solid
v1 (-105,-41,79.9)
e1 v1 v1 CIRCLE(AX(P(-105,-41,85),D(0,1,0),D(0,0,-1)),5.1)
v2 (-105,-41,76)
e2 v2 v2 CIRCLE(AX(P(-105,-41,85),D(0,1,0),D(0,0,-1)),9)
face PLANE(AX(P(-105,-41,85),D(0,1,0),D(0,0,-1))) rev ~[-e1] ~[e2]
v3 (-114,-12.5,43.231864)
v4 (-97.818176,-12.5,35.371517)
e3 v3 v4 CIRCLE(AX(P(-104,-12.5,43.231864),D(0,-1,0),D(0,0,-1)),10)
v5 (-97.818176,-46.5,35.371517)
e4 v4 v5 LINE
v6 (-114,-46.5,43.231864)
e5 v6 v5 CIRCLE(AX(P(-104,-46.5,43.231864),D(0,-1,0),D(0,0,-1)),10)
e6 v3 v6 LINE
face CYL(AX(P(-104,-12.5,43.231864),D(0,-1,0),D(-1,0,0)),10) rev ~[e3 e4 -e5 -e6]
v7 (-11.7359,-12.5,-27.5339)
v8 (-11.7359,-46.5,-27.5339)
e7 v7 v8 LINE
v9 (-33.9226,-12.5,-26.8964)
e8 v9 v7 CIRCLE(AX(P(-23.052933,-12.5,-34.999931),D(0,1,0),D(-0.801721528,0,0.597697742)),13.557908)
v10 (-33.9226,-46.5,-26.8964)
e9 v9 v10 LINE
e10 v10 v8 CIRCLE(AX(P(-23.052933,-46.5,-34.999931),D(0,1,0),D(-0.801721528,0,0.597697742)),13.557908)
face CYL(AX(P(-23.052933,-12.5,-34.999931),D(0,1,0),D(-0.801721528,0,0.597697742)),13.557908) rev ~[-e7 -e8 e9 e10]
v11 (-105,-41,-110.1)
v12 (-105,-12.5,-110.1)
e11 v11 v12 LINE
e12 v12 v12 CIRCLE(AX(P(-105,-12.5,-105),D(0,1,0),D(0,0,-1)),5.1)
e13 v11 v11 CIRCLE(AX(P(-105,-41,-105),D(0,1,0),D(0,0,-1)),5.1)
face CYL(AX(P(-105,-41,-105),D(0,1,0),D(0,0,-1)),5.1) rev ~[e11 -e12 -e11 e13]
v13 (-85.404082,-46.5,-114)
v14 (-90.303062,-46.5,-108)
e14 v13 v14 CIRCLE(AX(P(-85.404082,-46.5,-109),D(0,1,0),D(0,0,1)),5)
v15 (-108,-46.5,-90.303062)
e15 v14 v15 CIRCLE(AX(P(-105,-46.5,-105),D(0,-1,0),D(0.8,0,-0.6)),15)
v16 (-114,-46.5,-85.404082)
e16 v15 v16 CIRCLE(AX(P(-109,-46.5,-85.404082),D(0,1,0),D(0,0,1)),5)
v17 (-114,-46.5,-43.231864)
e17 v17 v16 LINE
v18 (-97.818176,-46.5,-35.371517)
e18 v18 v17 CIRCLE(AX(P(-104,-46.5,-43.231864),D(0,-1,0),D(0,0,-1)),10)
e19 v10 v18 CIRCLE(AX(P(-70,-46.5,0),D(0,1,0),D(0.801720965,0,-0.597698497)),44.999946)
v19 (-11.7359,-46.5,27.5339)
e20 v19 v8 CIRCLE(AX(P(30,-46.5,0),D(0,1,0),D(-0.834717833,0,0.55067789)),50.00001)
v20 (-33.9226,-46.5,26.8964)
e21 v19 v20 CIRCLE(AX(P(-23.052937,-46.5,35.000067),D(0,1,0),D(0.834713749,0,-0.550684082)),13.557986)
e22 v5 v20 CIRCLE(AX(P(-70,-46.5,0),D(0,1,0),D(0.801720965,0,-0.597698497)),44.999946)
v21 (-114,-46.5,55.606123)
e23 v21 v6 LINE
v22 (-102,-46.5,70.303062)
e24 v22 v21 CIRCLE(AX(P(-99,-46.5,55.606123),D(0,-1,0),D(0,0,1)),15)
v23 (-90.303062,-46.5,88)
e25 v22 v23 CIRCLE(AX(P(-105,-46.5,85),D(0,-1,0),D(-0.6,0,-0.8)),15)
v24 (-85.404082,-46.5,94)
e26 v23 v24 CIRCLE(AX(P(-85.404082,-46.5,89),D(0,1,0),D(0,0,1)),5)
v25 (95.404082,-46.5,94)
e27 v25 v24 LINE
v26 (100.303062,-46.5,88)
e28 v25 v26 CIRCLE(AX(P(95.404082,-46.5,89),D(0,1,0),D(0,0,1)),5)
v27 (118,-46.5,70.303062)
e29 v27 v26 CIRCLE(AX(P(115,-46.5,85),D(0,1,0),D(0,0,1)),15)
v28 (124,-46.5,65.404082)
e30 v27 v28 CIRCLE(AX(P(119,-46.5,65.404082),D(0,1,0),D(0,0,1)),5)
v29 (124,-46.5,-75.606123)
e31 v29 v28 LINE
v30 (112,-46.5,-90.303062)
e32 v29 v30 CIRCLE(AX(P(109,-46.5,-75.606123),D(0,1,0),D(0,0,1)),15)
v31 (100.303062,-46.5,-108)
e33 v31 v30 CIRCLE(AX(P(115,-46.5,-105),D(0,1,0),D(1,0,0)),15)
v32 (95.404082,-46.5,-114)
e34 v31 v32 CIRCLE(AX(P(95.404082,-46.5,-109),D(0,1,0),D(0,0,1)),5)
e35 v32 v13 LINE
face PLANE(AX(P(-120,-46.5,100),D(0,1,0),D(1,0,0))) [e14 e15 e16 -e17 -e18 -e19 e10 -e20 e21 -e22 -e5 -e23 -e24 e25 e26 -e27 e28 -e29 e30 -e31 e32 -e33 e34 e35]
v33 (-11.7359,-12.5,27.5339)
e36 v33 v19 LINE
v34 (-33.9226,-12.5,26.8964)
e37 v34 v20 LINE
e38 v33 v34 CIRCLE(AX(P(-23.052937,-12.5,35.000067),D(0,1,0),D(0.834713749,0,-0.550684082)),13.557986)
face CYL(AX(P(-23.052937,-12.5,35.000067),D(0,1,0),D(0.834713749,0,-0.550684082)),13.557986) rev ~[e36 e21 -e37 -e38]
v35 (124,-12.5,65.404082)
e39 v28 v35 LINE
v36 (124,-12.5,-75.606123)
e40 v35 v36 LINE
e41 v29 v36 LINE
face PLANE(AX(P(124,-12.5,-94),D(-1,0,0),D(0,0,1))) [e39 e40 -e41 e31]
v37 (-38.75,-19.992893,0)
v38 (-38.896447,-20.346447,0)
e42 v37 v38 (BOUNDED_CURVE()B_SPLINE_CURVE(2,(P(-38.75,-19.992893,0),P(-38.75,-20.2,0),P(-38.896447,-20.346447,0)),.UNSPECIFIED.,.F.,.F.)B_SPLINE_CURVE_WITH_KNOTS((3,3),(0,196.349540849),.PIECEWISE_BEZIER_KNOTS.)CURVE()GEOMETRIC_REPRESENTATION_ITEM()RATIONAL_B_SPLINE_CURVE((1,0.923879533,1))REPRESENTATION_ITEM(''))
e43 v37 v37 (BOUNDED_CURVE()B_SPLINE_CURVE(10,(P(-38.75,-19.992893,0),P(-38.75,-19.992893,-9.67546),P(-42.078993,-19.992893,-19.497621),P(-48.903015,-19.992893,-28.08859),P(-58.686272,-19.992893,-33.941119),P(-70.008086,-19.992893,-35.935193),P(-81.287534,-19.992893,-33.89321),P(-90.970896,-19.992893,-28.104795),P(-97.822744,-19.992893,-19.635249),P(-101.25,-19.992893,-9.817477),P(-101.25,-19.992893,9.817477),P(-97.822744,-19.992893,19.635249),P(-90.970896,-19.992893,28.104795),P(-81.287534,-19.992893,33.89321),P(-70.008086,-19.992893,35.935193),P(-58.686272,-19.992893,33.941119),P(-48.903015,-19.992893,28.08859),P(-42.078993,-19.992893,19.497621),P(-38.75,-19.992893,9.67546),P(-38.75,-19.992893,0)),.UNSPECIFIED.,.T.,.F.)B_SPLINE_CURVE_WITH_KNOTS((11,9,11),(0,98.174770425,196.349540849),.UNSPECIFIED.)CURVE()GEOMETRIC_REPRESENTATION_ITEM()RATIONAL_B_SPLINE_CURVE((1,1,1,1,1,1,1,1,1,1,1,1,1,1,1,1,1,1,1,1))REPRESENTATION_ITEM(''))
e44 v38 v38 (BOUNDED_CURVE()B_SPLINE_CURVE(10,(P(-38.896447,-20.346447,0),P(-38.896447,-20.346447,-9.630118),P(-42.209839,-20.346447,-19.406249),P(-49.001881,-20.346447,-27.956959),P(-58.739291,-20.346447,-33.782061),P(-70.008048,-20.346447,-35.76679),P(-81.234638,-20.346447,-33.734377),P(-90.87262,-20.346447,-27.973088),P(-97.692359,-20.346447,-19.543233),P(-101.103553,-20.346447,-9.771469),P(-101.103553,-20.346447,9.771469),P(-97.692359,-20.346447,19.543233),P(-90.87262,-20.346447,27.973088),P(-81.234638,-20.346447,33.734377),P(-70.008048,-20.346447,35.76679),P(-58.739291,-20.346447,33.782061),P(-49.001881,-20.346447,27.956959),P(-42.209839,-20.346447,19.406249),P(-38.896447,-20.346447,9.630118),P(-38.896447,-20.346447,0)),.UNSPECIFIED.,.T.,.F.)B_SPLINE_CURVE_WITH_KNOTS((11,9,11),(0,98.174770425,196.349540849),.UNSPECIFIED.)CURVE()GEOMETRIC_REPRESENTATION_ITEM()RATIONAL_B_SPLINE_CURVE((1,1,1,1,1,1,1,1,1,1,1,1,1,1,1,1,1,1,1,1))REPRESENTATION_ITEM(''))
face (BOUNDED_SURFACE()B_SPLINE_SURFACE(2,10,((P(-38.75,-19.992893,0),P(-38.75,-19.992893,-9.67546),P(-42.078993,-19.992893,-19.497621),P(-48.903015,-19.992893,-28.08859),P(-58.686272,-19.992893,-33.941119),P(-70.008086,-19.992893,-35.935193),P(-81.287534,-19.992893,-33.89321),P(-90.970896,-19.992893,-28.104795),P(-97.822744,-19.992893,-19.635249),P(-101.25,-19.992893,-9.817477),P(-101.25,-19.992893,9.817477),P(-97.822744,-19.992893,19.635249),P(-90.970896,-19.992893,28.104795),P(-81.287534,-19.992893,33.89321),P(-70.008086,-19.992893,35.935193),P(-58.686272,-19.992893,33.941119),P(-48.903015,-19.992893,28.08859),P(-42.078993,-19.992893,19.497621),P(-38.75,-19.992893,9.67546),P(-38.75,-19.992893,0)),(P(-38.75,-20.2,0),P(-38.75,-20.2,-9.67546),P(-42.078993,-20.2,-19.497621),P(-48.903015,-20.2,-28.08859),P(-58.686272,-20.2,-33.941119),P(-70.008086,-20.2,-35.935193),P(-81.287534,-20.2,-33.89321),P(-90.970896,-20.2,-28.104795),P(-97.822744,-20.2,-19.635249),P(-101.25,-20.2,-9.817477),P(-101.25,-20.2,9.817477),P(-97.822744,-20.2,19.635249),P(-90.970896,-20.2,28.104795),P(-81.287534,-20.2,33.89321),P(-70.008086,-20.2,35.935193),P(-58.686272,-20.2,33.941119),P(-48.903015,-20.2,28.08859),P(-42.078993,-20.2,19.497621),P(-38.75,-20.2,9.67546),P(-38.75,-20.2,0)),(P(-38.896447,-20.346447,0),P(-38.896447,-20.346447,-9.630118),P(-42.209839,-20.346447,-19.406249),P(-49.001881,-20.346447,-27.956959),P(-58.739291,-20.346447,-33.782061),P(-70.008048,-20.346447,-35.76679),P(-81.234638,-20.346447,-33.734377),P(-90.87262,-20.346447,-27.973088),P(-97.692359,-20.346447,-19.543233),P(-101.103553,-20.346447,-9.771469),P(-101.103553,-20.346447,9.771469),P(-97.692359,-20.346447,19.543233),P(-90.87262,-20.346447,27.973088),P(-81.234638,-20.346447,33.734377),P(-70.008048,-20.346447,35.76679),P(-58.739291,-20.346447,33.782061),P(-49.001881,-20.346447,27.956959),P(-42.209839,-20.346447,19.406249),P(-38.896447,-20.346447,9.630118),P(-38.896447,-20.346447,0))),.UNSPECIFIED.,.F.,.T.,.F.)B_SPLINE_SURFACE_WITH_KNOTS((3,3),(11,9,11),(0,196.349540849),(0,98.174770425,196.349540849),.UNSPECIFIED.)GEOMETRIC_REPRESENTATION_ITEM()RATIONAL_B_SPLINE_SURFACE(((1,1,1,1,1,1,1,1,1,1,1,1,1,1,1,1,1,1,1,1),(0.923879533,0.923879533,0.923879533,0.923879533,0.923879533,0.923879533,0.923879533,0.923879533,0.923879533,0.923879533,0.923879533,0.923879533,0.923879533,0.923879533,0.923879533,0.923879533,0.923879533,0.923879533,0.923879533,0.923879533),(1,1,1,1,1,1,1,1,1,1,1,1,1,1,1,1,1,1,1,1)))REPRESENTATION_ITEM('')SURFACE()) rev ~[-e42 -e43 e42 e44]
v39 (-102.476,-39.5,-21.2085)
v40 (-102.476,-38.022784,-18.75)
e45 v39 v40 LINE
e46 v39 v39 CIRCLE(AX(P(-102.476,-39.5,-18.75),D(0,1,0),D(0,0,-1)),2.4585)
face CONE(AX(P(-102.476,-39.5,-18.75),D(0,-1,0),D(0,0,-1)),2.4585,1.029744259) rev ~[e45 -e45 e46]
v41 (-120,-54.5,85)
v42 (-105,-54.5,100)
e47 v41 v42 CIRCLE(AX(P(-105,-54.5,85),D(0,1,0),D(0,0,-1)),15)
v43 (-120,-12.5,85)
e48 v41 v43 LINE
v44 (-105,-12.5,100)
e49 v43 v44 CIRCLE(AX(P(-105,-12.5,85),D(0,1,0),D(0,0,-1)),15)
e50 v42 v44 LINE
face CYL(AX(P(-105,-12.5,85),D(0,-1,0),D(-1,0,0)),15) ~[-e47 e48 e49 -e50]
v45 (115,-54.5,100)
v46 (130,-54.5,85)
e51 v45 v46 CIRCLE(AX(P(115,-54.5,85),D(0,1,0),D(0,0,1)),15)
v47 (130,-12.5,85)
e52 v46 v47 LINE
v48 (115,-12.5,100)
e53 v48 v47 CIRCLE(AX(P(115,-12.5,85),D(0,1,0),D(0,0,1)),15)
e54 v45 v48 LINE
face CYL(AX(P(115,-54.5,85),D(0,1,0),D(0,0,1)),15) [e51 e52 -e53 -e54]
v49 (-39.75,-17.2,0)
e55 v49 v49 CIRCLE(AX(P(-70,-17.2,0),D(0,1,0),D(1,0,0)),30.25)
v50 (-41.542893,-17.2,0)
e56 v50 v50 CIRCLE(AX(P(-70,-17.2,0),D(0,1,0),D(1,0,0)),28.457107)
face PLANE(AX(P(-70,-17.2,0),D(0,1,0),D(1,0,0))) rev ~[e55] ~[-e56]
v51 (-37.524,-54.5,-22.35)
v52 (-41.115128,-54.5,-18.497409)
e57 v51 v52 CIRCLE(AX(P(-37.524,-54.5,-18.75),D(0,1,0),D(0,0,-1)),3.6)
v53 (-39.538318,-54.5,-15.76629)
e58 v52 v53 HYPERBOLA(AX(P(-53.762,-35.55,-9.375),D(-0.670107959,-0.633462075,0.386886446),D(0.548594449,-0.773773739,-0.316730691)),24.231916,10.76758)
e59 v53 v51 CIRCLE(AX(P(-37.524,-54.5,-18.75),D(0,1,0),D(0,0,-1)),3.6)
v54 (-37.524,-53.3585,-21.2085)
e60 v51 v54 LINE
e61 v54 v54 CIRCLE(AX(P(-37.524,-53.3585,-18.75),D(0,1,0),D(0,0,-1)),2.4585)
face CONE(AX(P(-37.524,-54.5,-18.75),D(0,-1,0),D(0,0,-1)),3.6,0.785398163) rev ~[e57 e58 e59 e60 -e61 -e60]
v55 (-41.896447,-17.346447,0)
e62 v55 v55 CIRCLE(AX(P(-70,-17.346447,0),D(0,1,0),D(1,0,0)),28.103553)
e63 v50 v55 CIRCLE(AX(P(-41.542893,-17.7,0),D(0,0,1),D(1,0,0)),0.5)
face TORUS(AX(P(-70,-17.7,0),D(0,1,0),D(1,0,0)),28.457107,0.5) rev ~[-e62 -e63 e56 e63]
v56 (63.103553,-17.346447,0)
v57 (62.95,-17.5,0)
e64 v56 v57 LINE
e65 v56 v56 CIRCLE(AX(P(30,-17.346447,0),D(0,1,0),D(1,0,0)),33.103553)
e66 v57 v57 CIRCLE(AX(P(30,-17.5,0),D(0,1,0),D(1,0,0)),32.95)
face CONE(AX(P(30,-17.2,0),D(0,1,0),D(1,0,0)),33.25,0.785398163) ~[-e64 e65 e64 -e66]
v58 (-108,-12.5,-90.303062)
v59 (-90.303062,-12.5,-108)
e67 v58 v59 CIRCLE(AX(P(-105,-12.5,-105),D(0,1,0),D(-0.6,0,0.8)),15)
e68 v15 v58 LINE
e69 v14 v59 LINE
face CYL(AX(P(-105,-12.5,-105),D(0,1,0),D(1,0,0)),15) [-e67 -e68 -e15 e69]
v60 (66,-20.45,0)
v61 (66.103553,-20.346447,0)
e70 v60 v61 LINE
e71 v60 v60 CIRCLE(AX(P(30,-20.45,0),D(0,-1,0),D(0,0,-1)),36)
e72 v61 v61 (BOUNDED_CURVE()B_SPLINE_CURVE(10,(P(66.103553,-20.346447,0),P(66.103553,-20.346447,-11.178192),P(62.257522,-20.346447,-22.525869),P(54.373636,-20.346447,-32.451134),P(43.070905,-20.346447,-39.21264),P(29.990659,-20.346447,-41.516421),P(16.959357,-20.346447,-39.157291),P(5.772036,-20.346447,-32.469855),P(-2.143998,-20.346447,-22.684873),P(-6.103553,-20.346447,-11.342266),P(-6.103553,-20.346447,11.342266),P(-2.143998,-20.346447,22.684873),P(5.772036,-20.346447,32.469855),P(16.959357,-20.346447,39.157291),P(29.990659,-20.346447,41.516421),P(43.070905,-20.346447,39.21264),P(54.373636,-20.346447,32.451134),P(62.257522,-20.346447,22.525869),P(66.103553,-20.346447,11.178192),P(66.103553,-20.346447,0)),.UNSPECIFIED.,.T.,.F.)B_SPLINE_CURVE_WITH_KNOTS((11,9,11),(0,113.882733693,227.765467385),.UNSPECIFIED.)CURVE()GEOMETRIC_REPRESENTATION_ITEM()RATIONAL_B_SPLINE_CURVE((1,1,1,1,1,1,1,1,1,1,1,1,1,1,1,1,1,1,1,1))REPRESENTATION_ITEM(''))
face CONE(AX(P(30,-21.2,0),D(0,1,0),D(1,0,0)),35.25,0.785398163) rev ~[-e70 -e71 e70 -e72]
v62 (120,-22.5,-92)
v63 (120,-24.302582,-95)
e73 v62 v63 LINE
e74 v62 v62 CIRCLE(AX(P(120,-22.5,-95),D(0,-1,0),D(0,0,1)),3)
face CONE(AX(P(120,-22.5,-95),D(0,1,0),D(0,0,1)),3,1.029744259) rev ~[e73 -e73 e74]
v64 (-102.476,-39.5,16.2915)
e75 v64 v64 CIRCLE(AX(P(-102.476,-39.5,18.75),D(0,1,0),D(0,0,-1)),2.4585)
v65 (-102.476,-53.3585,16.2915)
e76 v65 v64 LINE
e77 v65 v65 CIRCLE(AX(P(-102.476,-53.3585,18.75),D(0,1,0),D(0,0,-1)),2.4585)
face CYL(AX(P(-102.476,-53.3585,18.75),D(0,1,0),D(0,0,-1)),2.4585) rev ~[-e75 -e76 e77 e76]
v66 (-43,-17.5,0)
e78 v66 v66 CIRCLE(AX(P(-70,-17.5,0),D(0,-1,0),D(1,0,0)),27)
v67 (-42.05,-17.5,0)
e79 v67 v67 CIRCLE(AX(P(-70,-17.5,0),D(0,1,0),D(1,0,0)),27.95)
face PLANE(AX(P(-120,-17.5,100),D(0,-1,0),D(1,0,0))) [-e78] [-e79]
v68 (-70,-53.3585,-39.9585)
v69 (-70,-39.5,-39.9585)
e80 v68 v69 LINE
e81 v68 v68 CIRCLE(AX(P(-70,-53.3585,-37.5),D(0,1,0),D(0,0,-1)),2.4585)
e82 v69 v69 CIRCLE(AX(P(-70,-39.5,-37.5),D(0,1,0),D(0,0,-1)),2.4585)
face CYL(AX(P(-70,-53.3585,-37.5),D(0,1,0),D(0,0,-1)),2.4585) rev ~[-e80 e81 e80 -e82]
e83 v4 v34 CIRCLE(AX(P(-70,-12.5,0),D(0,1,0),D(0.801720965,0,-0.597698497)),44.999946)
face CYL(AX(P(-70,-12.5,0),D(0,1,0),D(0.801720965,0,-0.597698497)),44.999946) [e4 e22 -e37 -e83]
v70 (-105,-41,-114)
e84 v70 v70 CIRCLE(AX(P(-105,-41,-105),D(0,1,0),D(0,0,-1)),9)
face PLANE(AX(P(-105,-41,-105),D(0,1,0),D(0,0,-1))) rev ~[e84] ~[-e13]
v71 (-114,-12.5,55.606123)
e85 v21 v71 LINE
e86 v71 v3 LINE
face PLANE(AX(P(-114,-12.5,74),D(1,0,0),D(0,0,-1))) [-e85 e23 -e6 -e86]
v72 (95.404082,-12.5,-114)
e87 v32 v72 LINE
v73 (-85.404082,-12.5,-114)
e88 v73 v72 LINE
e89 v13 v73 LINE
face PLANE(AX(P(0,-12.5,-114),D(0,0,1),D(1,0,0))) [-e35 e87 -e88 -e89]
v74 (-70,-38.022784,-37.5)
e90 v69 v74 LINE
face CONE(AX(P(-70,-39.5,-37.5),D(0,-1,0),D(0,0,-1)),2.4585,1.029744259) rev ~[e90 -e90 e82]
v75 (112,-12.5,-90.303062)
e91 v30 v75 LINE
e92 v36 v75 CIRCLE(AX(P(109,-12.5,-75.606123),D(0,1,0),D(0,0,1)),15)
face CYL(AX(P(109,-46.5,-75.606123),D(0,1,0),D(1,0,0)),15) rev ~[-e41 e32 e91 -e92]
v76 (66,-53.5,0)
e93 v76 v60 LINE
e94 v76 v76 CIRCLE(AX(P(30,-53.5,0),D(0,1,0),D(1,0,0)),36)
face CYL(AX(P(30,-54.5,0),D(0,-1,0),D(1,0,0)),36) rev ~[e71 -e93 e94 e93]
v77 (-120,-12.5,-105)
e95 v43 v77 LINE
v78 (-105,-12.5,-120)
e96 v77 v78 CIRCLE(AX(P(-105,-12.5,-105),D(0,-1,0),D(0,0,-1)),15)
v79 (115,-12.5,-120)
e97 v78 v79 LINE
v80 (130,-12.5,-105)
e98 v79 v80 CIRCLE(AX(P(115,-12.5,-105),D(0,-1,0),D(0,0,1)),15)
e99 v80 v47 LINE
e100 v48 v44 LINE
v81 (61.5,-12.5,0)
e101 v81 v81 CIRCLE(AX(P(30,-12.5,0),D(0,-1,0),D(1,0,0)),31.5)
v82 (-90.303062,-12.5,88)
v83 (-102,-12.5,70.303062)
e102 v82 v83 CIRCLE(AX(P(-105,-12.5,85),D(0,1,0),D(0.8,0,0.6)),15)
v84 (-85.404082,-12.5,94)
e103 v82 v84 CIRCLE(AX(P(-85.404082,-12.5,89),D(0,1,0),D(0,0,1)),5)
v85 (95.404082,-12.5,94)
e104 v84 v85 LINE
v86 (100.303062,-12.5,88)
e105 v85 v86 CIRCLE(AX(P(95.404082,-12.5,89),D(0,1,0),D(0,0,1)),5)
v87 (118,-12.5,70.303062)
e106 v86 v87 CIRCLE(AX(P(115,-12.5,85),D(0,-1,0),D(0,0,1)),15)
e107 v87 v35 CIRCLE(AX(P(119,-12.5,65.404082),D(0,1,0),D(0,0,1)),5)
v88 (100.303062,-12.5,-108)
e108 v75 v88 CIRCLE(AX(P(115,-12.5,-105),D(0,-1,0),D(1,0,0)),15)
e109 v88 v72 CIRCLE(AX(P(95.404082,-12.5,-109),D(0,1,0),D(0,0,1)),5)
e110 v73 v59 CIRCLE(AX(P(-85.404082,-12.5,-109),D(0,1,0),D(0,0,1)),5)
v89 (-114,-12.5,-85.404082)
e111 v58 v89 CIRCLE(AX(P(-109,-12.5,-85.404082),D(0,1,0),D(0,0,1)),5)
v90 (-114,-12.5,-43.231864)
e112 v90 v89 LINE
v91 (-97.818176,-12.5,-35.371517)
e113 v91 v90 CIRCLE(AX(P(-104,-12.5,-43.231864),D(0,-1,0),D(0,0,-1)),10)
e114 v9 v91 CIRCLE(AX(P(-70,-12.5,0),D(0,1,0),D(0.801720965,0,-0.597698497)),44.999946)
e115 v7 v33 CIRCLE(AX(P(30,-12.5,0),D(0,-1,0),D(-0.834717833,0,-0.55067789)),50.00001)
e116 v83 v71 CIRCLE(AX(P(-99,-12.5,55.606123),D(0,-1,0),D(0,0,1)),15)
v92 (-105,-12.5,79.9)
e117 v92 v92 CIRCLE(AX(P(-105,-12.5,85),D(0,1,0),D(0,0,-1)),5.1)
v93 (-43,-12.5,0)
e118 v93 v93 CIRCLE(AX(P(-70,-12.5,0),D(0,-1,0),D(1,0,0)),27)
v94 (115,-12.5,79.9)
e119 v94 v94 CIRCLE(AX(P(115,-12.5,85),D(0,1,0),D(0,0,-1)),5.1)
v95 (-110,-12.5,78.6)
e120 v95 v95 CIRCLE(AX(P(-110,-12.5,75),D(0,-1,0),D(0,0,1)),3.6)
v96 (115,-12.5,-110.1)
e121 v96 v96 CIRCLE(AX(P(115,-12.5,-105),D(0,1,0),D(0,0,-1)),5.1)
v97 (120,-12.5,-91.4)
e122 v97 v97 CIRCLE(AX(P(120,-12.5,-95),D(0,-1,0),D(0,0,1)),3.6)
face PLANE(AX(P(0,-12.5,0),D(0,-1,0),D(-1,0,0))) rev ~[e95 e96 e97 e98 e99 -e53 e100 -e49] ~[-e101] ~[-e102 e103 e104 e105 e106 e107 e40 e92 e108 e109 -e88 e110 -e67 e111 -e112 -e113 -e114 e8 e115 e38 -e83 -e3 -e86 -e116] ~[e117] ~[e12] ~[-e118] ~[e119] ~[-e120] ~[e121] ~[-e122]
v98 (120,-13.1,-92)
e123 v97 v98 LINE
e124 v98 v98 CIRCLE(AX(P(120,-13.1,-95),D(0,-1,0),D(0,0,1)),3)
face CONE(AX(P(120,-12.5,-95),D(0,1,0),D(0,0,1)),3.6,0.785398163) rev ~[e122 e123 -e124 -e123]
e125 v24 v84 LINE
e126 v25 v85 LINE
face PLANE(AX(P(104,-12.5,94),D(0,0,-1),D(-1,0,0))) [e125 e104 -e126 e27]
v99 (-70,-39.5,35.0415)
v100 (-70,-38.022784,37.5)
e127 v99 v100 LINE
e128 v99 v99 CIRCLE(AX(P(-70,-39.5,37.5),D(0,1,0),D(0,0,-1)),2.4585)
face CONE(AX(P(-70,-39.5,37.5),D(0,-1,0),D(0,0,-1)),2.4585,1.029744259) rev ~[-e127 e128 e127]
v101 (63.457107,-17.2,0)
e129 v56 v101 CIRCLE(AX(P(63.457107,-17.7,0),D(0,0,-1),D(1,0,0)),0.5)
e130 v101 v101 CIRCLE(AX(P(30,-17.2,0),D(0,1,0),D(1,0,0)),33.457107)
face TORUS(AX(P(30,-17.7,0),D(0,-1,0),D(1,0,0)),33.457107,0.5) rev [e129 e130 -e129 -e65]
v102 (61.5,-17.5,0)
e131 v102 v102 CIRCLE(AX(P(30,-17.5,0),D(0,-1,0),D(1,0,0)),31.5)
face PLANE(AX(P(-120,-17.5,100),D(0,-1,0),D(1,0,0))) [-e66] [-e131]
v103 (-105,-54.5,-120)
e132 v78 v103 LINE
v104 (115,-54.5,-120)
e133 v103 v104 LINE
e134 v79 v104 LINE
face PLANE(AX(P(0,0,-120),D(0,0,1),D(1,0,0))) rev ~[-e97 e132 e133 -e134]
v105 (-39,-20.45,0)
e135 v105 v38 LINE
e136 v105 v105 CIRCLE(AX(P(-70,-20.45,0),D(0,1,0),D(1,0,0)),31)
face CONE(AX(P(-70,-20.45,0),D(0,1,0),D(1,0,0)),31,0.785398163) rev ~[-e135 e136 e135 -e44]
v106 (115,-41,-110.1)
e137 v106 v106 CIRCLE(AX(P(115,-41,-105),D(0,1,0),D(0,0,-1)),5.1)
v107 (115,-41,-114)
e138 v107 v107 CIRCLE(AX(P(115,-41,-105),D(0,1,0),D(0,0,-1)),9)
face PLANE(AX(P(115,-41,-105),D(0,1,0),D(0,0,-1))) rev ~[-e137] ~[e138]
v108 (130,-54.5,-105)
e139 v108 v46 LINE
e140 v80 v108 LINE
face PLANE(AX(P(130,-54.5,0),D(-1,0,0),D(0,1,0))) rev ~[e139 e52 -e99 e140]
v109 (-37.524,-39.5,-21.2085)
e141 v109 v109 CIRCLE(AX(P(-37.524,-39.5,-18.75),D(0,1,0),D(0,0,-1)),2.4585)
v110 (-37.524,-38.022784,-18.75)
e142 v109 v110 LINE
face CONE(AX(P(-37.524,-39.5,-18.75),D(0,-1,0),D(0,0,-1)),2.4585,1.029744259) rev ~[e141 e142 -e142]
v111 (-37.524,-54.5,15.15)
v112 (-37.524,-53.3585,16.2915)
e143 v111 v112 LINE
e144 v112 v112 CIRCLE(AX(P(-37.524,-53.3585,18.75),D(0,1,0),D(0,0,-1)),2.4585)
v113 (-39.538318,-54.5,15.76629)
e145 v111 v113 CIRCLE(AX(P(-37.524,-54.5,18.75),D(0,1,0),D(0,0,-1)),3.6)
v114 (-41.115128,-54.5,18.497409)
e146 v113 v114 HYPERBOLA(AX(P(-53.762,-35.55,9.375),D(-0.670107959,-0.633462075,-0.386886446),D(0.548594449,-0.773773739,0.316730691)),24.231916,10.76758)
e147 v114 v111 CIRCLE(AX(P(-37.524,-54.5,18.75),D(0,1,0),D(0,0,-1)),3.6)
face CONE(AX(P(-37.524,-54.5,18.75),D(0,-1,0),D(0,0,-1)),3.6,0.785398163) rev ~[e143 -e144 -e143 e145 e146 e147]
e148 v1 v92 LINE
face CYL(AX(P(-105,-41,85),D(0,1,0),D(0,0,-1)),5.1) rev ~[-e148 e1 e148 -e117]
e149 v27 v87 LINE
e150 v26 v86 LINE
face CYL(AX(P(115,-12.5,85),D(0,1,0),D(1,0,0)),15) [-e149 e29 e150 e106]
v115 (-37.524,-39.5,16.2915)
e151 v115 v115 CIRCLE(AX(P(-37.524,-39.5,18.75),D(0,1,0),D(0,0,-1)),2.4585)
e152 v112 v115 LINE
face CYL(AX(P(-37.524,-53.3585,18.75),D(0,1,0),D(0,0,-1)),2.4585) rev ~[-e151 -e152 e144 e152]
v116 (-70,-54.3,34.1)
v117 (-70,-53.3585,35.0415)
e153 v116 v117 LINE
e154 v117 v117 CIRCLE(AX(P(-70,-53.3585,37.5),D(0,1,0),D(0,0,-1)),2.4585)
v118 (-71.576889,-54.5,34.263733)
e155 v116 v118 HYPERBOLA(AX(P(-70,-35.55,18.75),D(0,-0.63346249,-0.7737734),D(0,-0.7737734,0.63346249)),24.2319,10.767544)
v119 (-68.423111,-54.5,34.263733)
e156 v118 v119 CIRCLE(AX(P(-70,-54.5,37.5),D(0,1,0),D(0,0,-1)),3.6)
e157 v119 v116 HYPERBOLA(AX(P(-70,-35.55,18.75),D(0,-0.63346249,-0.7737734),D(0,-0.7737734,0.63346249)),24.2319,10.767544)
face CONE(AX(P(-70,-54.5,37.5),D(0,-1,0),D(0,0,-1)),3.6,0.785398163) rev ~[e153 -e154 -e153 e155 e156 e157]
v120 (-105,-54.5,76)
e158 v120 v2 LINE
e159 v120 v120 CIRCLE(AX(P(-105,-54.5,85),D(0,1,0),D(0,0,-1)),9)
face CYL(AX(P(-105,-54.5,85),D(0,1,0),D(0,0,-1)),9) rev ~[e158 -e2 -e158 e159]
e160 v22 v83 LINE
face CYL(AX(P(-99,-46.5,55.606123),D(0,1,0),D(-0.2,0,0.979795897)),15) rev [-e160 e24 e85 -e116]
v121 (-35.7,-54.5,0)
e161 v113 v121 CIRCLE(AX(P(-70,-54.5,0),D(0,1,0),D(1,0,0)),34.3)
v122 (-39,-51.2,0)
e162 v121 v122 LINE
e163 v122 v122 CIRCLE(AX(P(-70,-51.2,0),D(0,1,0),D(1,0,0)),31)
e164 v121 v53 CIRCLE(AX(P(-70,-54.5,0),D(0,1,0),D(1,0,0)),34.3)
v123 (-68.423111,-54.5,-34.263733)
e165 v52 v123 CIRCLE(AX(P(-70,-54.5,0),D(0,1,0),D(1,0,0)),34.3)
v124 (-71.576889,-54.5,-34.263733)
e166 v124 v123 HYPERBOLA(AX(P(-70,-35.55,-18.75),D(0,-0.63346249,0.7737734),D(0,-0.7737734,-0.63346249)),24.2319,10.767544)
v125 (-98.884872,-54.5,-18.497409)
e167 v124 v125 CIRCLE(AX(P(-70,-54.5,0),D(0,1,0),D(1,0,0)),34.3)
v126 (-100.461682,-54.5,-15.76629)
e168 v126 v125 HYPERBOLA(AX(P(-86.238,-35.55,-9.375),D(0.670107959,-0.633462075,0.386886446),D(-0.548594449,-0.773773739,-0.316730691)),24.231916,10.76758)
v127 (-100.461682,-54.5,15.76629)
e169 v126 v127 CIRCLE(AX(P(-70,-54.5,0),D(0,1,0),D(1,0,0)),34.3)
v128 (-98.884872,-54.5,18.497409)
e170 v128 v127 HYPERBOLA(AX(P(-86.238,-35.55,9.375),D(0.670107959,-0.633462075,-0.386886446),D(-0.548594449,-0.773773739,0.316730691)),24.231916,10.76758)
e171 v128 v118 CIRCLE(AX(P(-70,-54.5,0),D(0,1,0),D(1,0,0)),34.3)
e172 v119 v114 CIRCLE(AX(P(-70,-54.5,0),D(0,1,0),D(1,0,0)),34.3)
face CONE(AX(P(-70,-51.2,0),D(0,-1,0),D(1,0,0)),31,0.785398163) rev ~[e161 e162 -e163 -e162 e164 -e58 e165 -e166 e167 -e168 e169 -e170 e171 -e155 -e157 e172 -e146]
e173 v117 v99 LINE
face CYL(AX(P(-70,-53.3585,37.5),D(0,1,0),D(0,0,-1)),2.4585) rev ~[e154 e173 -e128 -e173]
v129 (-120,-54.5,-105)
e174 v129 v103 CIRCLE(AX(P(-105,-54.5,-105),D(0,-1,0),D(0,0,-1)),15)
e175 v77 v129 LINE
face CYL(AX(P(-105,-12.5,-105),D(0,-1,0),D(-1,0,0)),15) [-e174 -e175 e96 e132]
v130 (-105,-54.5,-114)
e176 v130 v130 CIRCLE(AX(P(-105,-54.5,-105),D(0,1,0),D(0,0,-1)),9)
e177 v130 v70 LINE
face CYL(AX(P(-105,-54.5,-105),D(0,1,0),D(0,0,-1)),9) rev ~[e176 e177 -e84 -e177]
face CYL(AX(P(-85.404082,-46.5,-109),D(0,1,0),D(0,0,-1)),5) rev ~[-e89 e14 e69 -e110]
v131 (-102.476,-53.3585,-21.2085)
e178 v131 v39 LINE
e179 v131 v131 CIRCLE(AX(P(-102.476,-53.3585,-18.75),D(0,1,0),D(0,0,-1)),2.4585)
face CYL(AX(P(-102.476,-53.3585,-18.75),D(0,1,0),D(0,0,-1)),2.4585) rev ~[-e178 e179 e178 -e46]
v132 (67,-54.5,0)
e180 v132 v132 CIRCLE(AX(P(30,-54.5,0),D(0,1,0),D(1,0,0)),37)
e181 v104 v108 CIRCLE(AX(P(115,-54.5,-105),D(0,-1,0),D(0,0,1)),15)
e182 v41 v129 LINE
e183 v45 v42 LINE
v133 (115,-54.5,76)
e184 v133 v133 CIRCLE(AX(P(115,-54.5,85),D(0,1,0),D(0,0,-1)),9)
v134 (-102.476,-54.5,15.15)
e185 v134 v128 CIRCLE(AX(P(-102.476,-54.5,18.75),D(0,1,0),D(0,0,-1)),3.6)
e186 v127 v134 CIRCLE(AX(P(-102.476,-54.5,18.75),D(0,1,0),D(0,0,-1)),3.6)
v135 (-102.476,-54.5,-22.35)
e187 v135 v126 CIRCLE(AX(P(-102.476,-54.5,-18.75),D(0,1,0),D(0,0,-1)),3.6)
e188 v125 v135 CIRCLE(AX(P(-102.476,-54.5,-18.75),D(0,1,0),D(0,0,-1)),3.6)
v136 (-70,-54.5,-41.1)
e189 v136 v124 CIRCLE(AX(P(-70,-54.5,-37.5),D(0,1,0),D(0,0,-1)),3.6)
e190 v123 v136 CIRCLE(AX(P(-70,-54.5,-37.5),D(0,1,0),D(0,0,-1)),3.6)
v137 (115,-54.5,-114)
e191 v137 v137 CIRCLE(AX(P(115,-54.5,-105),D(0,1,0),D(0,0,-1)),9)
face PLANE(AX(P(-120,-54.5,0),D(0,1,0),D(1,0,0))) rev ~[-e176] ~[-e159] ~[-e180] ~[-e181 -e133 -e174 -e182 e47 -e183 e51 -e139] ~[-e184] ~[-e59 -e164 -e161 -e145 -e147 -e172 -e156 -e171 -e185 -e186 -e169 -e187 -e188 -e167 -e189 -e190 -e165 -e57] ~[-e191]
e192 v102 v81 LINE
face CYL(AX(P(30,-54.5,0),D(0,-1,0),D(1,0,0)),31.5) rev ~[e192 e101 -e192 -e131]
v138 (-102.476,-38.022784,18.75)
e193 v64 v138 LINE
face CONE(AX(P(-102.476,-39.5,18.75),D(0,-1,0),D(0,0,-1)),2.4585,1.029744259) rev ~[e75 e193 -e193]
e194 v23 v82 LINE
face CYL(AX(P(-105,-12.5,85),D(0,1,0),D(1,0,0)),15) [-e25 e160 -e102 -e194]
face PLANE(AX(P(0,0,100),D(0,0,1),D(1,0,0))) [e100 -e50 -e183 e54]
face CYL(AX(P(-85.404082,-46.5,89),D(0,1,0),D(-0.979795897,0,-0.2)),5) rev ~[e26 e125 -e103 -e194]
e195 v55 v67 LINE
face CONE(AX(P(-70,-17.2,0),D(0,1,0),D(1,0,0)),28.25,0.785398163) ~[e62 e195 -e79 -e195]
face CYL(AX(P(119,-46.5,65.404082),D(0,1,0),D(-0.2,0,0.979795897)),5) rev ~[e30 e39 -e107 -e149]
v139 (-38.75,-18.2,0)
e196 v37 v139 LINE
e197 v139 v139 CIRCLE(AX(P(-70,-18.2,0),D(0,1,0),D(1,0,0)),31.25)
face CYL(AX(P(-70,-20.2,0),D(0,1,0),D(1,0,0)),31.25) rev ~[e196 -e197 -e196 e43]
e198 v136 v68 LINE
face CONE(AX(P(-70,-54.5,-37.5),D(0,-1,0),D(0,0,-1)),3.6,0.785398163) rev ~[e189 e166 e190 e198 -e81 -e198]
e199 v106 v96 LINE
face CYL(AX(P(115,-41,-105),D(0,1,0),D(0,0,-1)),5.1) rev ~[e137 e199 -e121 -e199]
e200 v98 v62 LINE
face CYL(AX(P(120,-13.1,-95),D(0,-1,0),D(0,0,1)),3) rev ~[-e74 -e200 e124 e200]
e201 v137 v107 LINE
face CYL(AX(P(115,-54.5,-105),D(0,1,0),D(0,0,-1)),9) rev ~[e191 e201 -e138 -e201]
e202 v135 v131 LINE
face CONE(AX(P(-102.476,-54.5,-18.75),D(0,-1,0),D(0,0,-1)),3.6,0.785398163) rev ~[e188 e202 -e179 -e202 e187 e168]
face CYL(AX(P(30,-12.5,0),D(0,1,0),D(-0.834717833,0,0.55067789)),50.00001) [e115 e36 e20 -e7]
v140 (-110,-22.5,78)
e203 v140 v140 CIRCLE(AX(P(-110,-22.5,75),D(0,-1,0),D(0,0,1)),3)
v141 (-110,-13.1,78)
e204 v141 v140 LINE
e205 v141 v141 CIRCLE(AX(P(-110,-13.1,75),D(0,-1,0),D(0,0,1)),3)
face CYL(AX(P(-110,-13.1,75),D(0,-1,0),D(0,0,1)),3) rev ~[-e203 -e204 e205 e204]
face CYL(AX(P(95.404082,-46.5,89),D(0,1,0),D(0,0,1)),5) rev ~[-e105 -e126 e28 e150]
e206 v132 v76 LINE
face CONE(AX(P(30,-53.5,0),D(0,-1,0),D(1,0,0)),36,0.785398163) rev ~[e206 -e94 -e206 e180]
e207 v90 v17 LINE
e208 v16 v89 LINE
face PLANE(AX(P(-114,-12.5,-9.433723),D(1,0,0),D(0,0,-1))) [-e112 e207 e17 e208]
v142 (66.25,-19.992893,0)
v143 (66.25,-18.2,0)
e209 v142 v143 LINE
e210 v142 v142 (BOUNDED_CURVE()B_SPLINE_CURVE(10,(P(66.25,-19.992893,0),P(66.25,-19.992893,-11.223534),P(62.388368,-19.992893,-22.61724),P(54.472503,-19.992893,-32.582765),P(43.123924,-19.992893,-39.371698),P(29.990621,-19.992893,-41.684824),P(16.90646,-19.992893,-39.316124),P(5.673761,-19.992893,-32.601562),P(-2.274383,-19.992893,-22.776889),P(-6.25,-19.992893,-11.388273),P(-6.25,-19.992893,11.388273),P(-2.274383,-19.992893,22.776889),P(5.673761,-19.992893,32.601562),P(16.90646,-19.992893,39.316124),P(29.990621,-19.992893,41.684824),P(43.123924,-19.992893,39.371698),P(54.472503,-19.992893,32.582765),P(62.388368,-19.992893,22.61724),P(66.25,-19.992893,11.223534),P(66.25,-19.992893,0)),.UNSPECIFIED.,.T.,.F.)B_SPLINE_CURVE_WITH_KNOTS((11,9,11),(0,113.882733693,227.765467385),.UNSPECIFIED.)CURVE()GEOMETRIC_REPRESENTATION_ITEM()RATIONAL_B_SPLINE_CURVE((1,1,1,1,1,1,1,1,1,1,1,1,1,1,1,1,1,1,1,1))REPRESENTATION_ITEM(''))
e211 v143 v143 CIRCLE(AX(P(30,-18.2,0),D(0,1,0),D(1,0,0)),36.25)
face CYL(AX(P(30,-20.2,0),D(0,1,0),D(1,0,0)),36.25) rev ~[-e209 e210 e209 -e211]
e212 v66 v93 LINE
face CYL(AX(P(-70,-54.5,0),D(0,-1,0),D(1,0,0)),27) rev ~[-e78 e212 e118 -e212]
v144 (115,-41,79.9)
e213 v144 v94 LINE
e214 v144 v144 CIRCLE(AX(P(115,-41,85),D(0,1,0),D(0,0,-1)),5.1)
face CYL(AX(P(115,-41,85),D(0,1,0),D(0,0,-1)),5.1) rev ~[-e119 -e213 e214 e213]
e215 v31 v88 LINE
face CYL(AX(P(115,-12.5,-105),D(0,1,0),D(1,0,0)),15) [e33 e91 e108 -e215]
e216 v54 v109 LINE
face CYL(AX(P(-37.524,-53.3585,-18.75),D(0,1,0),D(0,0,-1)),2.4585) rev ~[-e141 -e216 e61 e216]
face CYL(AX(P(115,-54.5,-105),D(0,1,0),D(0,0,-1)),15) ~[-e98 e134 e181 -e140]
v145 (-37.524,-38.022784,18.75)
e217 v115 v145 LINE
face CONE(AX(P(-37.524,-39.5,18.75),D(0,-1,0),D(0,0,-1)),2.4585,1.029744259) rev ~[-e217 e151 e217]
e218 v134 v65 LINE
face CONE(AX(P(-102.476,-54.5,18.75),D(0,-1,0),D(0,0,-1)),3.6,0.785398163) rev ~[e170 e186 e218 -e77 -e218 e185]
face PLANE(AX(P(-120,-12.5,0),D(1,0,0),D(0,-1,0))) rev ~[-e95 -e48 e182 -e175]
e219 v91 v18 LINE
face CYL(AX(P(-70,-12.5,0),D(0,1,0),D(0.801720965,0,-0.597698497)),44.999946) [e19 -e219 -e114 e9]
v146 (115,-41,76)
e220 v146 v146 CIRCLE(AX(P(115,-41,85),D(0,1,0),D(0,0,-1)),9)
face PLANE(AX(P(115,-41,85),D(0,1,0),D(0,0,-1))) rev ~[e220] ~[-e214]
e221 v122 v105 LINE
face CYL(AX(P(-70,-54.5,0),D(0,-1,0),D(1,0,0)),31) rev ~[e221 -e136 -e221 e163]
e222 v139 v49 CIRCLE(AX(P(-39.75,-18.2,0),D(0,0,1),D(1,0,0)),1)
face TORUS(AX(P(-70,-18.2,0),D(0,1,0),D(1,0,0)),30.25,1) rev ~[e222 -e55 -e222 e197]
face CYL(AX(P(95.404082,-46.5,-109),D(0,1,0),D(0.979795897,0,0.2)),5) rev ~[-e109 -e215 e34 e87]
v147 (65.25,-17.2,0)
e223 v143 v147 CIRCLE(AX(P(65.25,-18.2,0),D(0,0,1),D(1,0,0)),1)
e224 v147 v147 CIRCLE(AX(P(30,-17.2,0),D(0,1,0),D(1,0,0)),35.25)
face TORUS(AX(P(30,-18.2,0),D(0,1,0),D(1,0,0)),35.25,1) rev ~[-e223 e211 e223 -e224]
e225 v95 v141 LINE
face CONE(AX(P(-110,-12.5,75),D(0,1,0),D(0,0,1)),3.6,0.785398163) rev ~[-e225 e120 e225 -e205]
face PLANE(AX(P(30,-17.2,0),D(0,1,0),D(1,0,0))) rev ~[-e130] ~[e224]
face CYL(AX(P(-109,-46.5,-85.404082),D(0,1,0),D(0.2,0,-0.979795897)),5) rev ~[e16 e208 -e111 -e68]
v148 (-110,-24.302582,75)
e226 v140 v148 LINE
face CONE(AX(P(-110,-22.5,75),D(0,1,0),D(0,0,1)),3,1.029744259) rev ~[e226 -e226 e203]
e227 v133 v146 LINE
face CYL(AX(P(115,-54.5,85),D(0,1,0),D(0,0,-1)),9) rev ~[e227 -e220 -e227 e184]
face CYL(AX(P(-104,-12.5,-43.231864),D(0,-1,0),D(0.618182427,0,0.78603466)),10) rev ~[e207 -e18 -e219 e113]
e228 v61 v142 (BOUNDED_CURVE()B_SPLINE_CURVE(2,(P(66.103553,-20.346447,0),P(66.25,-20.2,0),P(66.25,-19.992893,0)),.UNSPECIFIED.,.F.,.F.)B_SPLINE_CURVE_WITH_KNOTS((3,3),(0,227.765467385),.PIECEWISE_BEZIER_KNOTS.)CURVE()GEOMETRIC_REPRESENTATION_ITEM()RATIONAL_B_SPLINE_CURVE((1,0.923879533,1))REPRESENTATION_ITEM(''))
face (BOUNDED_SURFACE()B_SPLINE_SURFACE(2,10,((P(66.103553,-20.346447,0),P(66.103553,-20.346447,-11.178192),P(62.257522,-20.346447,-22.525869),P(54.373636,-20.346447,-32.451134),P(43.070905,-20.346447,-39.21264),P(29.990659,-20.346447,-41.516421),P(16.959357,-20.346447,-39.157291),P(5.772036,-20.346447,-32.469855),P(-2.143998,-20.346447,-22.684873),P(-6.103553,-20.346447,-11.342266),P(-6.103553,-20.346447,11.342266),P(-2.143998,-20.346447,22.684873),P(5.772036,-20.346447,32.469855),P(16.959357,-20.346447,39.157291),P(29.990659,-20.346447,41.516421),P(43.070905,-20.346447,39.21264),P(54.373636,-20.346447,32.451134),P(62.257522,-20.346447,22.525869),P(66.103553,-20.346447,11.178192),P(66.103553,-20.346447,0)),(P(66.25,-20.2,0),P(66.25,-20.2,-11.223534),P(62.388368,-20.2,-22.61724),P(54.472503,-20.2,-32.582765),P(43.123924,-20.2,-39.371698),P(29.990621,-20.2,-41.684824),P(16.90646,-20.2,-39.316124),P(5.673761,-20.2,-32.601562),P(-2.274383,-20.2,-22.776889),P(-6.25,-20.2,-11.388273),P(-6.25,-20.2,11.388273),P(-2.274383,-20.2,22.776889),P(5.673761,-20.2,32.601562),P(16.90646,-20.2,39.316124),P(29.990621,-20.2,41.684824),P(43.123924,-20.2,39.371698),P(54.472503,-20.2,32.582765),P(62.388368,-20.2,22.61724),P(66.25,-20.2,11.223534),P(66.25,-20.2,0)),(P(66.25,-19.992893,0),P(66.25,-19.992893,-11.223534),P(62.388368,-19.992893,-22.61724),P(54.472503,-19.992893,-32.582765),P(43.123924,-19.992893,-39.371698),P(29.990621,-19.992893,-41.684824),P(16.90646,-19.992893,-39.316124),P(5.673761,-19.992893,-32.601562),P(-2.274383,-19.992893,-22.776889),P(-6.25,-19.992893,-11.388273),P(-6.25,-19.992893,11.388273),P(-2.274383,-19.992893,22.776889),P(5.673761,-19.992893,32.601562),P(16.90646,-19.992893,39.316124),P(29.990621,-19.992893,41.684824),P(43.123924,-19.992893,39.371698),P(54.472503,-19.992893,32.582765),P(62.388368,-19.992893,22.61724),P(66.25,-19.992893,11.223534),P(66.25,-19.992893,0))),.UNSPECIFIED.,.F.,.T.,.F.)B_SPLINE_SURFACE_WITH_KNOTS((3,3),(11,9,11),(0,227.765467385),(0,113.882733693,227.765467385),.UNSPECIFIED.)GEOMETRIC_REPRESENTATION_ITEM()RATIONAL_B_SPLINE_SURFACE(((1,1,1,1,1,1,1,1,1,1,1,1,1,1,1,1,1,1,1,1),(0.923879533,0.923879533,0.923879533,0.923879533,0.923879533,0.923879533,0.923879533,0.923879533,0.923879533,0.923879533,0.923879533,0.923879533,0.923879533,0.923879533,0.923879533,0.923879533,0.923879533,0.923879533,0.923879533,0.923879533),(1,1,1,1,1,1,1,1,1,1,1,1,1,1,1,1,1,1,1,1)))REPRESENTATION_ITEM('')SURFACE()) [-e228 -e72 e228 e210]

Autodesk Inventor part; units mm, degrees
ref_plane "YZ Plane" through (0, 0, 0) normal (1, 0, 0) x (0, 1, 0)
ref_plane "XZ Plane" through (0, 0, 0) normal (0, 1, 0) x (-1, 0, 0)
ref_plane "XY Plane" through (0, 0, 0) normal (0, 0, 1) x (1, 0, 0)
sketch "Эскиз1" plane through (0, 0, 0) normal (0, 0, 1) x (1, 0, 0)
  line L0 (0, -65.4) -> (0, 10.9) projected
  line L1 (-170, 0) -> (180, 0) projected
  line L2 (-120, -12.5) -> (-120, -54.5)
  line L3 (-120, -54.5) -> (130, -54.5)
  line L4 (130, -54.5) -> (130, -12.5)
  line L5 (130, -12.5) -> (-120, -12.5)
  point P0 (0, 0)
  dimension "d0" = 12.5
  dimension "d1" = 250
  dimension "d2" = 42
  dimension "d3" = 120
extrude "Выдавливание1" add sketch "Эскиз1" along normal blind 100 and the other way blind 120
sketch "Эскиз3" plane through (-120, -54.5, 100) normal (0, -1, 0) x (1, 0, 0)
  line L0 (120, -264) -> (120, 44) projected
  line L1 (-50, -100) -> (300, -100) projected
  circle A0 centre (150, -100) radius 36
  circle A1 centre (50, -100) radius 31
  point P0 (120, -100)
  dimension "d6" = 72
  dimension "d7" = 62
  dimension "d8" = 100
  dimension "d9" = 70
extrude "Выдавливание2" cut sketch "Эскиз3" against normal blind 37
sketch "Эскиз4" plane through (-120, -54.5, 100) normal (0, -1, 0) x (1, 0, 0)
  line L0 (120, -264) -> (120, 44) projected
  line L1 (-50, -100) -> (300, -100) projected
  circle A0 centre (50, -100) radius 31 projected
  circle A1 centre (150, -100) radius 36 projected
  circle A2 centre (50, -100) radius 27
  circle A3 centre (150, -100) radius 31.5
  point P0 (120, -100)
  dimension "d12" = 63
  dimension "d13" = 54
extrude "Выдавливание3" cut sketch "Эскиз4" against normal through all contours A3 L1 L0 | L0 L1 A3 | L1 A3 L0 | L0 A3 L1 | A2 L1 | L1 A2
sketch "Эскиз5" plane through (-120, -12.5, 100) normal (0, 1, 0) x (1, 0, 0)
  line L0 (120, 264) -> (120, -44) projected
  line L1 (-50, 100) -> (300, 100) projected
  circle A0 centre (150, 100) radius 31.5 projected
  circle A1 centre (50, 100) radius 27 projected
  arc A2 (86.0774, 126.8964) -> (86.0774, 73.1036) centre (50, 100) ccw
  arc A3 (108.2641, 72.4661) -> (108.2641, 127.5339) centre (150, 100) ccw
  arc A4 (86.0774, 126.8964) -> (108.2641, 127.5339) centre (96.9471, 135) ccw
  arc A5 (108.2641, 72.4661) -> (86.0774, 73.1036) centre (96.9471, 65) ccw
  line L2 (250, 220) -> (250, 0) projected
  line L3 (0, 220) -> (250, 220) projected
  line L4 (0, 0) -> (0, 220) projected
  line L5 (250, 0) -> (0, 0) projected
  line L6 (26, 214) -> (224, 214)
  line L7 (244, 194) -> (244, 26)
  line L8 (224, 6) -> (26, 6)
  line L9 (6, 26) -> (6, 194)
  arc A6 (244, 194) -> (224, 214) centre (224, 194) ccw
  arc A7 (26, 214) -> (6, 194) centre (26, 194) ccw
  arc A8 (6, 26) -> (26, 6) centre (26, 26) ccw
  arc A9 (224, 6) -> (244, 26) centre (224, 26) ccw
  point P0 (120, 100)
  dimension "d16" = 100
  dimension "d17" = 90
  dimension "d18" = 35
  dimension "d19" = 35
  dimension "d20" = 6
  dimension "d21" = 6
  dimension "d22" = 6
  dimension "d23" = 6
  dimension "d24" = 20
extrude "Выдавливание4" cut sketch "Эскиз5" against normal blind 34 contours L6 A6 L7 L1 A3 L0 | L0 A3 A4 A2 L9 A7 L6 | L1 L7 A9 L8 L0 A3 | L0 L8 A8 L9 A2 A5 A3
fillet "Сопряжение1" radius 15 4 edges at (130, -33.5, -120) (130, -33.5, 100) (-120, -33.5, -120) (-120, -33.5, 100)
sketch "Эскиз7" plane through (-105, -12.5, 100) normal (0, 1, 0) x (1, 0, 0)
  arc A0 (220, 0) -> (235, 15) centre (220, 15) ccw projected
  arc A1 (-15, 15) -> (0, 0) centre (0, 15) ccw projected
  arc A2 (235, 205) -> (220, 220) centre (220, 205) ccw projected
  arc A3 (0, 220) -> (-15, 205) centre (0, 205) ccw projected
  circle A4 centre (220, 15) radius 15
  circle A5 centre (220, 205) radius 15
  circle A6 centre (0, 15) radius 15
  circle A7 centre (0, 205) radius 15
  point P0 (105, 100)
extrude "Выдавливание5" add sketch "Эскиз7" against normal blind 34
fillet "Сопряжение2" radius 10 2 edges at (-114, -29.5, 9.434) (-114, -29.5, -9.434)
fillet "Сопряжение3" radius 5 6 edges at (103, -29.5, -114) (124, -29.5, 73) (103, -29.5, 94) (-93, -29.5, 94) (-93, -29.5, -114) (-114, -29.5, -93)
sketch "Эскиз11" plane through (-105, -54.5, -120) normal (0, -1, 0) x (1, 0, 0)
  arc A0 (-9, 193) -> (14.6969, 208) centre (0, 205) ccw projected
  arc A1 (205.3031, 208) -> (223, 190.3031) centre (220, 205) ccw projected
  arc A2 (229, 27) -> (205.3031, 12) centre (220, 15) ccw projected
  arc A3 (14.6969, 12) -> (-3, 29.6969) centre (0, 15) ccw projected
  point P0 (105, 120)
  point P1 (-3, 190.3031)
  point P2 (223, 29.6969)
hole "Отверстие1" at (-105, -54.5, 85) at (115, -54.5, 85) at (115, -54.5, -105) at (-105, -54.5, -105) direction (0, 1, 0) diameter 10.2 depth 50 tip angle 118 counterbore diameter 18 counterbore depth 13.5
fillet "Сопряжение4" radius 15 2 edges at (-114, -29.5, 73) (124, -29.5, -93)
sketch "Эскиз12" plane through (-105, -12.5, 100) normal (0, 1, 0) x (1, 0, 0)
  circle A0 centre (220, 205) radius 5.1 projected
  circle A1 centre (0, 15) radius 5.1 projected
  circle A2 centre (225, 195) radius 3
  circle A3 centre (-5, 25) radius 3
  point P0 (105, 100)
  dimension "d54" = 6
  dimension "d55" = 10
  dimension "d57" = 5
  dimension "d58" = 230
  dimension "d59" = 170
hole "Отверстие2" at (120, -12.5, -95) at (-110, -12.5, 75) direction (0, -1, 0) diameter 6 depth 10 tip angle 118 countersink diameter 7.2 countersink angle 90
chamfer "Фаска2" distance 3.3 angle 45 1 edges at (-101, -54.5, 0)
chamfer "Фаска3" distance 1 angle 45 1 edges at (-6, -54.5, 0)
sketch "Эскиз13" plane through (-105, -54.5, -120) normal (0, -1, 0) x (1, 0, 0)
  circle A0 centre (35, 120) radius 31 projected
  circle A1 centre (35, 120) radius 37.5 construction
  line L0 (35, 120) -> (35, 157.5) construction
  circle A2 centre (35, 157.5) radius 1.5
  circle A3 centre (2.524, 138.75) radius 1.5
  circle A4 centre (2.524, 101.25) radius 1.5
  circle A5 centre (35, 82.5) radius 1.5
  circle A6 centre (67.476, 101.25) radius 1.5
  circle A7 centre (67.476, 138.75) radius 1.5
  point P0 (105, 120)
  dimension "d73" = 75
  dimension "d74" = 3
  dimension "d77" = 360
hole "Отверстие3" at (-37.524, -54.5, 18.75) at (-70, -54.5, 37.5) at (-102.476, -54.5, 18.75) at (-102.476, -54.5, -18.75) at (-70, -54.5, -37.5) at (-37.524, -54.5, -18.75) direction (0, 1, 0) diameter 4.917 depth 15 tip angle 118 countersink diameter 7.2 countersink angle 90 thread size "M6x1" class "6H" standard "ISO Metric profile"
sketch "Эскиз14" plane through (0, 0, 0) normal (0, 0, 1) x (1, 0, 0)
  line L0 (-39, -51.2) -> (-39, -17.5) construction
  line L1 (-39, -17.5) -> (-101, -17.5) projected
  line L2 (-6, -53.5) -> (-6, -17.5) projected
  line L3 (66, -17.5) -> (-6, -17.5) projected
  line L4 (-39, -20.45) -> (-38.75, -20.2)
  line L5 (-38.75, -20.2) -> (-38.75, -17.2)
  line L6 (-43, -17.5) -> (-97, -17.5) projected
  line L7 (-38.75, -17.2) -> (-41.75, -17.2)
  line L8 (-41.75, -17.2) -> (-42.05, -17.5)
  line L9 (-42.05, -17.5) -> (-42.05, -20.45)
  line L10 (-42.05, -20.45) -> (-39, -20.45)
  line L11 (65.25, -21.2) -> (66.25, -20.2)
  line L12 (66.25, -20.2) -> (66.25, -17.2)
  line L13 (66.25, -17.2) -> (63.25, -17.2)
  line L14 (63.25, -17.2) -> (62.95, -17.5)
  line L15 (62.95, -17.5) -> (62.95, -21.2)
  line L16 (62.95, -21.2) -> (65.25, -21.2)
  line L17 (66, -53.5) -> (66, -17.5) projected
  line L18 (-70, -65.4037) -> (-70, 10.9006) projected
  line L19 (30, -65.4037) -> (30, 10.9006) projected
  point P0 (0, 0)
  dimension "d86" = 45
  dimension "d87" = 45
  dimension "d88" = 3
  dimension "d89" = 0.25
  dimension "d90" = 0.3
  dimension "d91" = 45
  dimension "d92" = 45
  dimension "d93" = 3
  dimension "d94" = 0.25
  dimension "d95" = 0.3
  dimension "d96" = 4
  dimension "d37" = 10.5
revolve "Вращение1" cut sketch "Эскиз14" angle 360 about axis through (-70, -54.5, 0) along (0, 1, 0) contours L10 L9 L8 L7 L5 L4
revolve "Вращение2" cut sketch "Эскиз14" angle 360 about axis through (30, -54.5, 0) along (0, 1, 0) contours L17 L11 L16 L15 L3 | L3 L14 L13 L12 L11 L17
fillet "Сопряжение5" radius 1 2 edges at (-101.25, -17.2, 0) (-6.25, -17.2, 0)
fillet "Сопряжение6" radius 0.5 4 edges at (-101.25, -20.2, 0) (-98.25, -17.2, 0) (-3.25, -17.2, 0) (-6.25, -20.2, 0)
properties part number "корпус01"
